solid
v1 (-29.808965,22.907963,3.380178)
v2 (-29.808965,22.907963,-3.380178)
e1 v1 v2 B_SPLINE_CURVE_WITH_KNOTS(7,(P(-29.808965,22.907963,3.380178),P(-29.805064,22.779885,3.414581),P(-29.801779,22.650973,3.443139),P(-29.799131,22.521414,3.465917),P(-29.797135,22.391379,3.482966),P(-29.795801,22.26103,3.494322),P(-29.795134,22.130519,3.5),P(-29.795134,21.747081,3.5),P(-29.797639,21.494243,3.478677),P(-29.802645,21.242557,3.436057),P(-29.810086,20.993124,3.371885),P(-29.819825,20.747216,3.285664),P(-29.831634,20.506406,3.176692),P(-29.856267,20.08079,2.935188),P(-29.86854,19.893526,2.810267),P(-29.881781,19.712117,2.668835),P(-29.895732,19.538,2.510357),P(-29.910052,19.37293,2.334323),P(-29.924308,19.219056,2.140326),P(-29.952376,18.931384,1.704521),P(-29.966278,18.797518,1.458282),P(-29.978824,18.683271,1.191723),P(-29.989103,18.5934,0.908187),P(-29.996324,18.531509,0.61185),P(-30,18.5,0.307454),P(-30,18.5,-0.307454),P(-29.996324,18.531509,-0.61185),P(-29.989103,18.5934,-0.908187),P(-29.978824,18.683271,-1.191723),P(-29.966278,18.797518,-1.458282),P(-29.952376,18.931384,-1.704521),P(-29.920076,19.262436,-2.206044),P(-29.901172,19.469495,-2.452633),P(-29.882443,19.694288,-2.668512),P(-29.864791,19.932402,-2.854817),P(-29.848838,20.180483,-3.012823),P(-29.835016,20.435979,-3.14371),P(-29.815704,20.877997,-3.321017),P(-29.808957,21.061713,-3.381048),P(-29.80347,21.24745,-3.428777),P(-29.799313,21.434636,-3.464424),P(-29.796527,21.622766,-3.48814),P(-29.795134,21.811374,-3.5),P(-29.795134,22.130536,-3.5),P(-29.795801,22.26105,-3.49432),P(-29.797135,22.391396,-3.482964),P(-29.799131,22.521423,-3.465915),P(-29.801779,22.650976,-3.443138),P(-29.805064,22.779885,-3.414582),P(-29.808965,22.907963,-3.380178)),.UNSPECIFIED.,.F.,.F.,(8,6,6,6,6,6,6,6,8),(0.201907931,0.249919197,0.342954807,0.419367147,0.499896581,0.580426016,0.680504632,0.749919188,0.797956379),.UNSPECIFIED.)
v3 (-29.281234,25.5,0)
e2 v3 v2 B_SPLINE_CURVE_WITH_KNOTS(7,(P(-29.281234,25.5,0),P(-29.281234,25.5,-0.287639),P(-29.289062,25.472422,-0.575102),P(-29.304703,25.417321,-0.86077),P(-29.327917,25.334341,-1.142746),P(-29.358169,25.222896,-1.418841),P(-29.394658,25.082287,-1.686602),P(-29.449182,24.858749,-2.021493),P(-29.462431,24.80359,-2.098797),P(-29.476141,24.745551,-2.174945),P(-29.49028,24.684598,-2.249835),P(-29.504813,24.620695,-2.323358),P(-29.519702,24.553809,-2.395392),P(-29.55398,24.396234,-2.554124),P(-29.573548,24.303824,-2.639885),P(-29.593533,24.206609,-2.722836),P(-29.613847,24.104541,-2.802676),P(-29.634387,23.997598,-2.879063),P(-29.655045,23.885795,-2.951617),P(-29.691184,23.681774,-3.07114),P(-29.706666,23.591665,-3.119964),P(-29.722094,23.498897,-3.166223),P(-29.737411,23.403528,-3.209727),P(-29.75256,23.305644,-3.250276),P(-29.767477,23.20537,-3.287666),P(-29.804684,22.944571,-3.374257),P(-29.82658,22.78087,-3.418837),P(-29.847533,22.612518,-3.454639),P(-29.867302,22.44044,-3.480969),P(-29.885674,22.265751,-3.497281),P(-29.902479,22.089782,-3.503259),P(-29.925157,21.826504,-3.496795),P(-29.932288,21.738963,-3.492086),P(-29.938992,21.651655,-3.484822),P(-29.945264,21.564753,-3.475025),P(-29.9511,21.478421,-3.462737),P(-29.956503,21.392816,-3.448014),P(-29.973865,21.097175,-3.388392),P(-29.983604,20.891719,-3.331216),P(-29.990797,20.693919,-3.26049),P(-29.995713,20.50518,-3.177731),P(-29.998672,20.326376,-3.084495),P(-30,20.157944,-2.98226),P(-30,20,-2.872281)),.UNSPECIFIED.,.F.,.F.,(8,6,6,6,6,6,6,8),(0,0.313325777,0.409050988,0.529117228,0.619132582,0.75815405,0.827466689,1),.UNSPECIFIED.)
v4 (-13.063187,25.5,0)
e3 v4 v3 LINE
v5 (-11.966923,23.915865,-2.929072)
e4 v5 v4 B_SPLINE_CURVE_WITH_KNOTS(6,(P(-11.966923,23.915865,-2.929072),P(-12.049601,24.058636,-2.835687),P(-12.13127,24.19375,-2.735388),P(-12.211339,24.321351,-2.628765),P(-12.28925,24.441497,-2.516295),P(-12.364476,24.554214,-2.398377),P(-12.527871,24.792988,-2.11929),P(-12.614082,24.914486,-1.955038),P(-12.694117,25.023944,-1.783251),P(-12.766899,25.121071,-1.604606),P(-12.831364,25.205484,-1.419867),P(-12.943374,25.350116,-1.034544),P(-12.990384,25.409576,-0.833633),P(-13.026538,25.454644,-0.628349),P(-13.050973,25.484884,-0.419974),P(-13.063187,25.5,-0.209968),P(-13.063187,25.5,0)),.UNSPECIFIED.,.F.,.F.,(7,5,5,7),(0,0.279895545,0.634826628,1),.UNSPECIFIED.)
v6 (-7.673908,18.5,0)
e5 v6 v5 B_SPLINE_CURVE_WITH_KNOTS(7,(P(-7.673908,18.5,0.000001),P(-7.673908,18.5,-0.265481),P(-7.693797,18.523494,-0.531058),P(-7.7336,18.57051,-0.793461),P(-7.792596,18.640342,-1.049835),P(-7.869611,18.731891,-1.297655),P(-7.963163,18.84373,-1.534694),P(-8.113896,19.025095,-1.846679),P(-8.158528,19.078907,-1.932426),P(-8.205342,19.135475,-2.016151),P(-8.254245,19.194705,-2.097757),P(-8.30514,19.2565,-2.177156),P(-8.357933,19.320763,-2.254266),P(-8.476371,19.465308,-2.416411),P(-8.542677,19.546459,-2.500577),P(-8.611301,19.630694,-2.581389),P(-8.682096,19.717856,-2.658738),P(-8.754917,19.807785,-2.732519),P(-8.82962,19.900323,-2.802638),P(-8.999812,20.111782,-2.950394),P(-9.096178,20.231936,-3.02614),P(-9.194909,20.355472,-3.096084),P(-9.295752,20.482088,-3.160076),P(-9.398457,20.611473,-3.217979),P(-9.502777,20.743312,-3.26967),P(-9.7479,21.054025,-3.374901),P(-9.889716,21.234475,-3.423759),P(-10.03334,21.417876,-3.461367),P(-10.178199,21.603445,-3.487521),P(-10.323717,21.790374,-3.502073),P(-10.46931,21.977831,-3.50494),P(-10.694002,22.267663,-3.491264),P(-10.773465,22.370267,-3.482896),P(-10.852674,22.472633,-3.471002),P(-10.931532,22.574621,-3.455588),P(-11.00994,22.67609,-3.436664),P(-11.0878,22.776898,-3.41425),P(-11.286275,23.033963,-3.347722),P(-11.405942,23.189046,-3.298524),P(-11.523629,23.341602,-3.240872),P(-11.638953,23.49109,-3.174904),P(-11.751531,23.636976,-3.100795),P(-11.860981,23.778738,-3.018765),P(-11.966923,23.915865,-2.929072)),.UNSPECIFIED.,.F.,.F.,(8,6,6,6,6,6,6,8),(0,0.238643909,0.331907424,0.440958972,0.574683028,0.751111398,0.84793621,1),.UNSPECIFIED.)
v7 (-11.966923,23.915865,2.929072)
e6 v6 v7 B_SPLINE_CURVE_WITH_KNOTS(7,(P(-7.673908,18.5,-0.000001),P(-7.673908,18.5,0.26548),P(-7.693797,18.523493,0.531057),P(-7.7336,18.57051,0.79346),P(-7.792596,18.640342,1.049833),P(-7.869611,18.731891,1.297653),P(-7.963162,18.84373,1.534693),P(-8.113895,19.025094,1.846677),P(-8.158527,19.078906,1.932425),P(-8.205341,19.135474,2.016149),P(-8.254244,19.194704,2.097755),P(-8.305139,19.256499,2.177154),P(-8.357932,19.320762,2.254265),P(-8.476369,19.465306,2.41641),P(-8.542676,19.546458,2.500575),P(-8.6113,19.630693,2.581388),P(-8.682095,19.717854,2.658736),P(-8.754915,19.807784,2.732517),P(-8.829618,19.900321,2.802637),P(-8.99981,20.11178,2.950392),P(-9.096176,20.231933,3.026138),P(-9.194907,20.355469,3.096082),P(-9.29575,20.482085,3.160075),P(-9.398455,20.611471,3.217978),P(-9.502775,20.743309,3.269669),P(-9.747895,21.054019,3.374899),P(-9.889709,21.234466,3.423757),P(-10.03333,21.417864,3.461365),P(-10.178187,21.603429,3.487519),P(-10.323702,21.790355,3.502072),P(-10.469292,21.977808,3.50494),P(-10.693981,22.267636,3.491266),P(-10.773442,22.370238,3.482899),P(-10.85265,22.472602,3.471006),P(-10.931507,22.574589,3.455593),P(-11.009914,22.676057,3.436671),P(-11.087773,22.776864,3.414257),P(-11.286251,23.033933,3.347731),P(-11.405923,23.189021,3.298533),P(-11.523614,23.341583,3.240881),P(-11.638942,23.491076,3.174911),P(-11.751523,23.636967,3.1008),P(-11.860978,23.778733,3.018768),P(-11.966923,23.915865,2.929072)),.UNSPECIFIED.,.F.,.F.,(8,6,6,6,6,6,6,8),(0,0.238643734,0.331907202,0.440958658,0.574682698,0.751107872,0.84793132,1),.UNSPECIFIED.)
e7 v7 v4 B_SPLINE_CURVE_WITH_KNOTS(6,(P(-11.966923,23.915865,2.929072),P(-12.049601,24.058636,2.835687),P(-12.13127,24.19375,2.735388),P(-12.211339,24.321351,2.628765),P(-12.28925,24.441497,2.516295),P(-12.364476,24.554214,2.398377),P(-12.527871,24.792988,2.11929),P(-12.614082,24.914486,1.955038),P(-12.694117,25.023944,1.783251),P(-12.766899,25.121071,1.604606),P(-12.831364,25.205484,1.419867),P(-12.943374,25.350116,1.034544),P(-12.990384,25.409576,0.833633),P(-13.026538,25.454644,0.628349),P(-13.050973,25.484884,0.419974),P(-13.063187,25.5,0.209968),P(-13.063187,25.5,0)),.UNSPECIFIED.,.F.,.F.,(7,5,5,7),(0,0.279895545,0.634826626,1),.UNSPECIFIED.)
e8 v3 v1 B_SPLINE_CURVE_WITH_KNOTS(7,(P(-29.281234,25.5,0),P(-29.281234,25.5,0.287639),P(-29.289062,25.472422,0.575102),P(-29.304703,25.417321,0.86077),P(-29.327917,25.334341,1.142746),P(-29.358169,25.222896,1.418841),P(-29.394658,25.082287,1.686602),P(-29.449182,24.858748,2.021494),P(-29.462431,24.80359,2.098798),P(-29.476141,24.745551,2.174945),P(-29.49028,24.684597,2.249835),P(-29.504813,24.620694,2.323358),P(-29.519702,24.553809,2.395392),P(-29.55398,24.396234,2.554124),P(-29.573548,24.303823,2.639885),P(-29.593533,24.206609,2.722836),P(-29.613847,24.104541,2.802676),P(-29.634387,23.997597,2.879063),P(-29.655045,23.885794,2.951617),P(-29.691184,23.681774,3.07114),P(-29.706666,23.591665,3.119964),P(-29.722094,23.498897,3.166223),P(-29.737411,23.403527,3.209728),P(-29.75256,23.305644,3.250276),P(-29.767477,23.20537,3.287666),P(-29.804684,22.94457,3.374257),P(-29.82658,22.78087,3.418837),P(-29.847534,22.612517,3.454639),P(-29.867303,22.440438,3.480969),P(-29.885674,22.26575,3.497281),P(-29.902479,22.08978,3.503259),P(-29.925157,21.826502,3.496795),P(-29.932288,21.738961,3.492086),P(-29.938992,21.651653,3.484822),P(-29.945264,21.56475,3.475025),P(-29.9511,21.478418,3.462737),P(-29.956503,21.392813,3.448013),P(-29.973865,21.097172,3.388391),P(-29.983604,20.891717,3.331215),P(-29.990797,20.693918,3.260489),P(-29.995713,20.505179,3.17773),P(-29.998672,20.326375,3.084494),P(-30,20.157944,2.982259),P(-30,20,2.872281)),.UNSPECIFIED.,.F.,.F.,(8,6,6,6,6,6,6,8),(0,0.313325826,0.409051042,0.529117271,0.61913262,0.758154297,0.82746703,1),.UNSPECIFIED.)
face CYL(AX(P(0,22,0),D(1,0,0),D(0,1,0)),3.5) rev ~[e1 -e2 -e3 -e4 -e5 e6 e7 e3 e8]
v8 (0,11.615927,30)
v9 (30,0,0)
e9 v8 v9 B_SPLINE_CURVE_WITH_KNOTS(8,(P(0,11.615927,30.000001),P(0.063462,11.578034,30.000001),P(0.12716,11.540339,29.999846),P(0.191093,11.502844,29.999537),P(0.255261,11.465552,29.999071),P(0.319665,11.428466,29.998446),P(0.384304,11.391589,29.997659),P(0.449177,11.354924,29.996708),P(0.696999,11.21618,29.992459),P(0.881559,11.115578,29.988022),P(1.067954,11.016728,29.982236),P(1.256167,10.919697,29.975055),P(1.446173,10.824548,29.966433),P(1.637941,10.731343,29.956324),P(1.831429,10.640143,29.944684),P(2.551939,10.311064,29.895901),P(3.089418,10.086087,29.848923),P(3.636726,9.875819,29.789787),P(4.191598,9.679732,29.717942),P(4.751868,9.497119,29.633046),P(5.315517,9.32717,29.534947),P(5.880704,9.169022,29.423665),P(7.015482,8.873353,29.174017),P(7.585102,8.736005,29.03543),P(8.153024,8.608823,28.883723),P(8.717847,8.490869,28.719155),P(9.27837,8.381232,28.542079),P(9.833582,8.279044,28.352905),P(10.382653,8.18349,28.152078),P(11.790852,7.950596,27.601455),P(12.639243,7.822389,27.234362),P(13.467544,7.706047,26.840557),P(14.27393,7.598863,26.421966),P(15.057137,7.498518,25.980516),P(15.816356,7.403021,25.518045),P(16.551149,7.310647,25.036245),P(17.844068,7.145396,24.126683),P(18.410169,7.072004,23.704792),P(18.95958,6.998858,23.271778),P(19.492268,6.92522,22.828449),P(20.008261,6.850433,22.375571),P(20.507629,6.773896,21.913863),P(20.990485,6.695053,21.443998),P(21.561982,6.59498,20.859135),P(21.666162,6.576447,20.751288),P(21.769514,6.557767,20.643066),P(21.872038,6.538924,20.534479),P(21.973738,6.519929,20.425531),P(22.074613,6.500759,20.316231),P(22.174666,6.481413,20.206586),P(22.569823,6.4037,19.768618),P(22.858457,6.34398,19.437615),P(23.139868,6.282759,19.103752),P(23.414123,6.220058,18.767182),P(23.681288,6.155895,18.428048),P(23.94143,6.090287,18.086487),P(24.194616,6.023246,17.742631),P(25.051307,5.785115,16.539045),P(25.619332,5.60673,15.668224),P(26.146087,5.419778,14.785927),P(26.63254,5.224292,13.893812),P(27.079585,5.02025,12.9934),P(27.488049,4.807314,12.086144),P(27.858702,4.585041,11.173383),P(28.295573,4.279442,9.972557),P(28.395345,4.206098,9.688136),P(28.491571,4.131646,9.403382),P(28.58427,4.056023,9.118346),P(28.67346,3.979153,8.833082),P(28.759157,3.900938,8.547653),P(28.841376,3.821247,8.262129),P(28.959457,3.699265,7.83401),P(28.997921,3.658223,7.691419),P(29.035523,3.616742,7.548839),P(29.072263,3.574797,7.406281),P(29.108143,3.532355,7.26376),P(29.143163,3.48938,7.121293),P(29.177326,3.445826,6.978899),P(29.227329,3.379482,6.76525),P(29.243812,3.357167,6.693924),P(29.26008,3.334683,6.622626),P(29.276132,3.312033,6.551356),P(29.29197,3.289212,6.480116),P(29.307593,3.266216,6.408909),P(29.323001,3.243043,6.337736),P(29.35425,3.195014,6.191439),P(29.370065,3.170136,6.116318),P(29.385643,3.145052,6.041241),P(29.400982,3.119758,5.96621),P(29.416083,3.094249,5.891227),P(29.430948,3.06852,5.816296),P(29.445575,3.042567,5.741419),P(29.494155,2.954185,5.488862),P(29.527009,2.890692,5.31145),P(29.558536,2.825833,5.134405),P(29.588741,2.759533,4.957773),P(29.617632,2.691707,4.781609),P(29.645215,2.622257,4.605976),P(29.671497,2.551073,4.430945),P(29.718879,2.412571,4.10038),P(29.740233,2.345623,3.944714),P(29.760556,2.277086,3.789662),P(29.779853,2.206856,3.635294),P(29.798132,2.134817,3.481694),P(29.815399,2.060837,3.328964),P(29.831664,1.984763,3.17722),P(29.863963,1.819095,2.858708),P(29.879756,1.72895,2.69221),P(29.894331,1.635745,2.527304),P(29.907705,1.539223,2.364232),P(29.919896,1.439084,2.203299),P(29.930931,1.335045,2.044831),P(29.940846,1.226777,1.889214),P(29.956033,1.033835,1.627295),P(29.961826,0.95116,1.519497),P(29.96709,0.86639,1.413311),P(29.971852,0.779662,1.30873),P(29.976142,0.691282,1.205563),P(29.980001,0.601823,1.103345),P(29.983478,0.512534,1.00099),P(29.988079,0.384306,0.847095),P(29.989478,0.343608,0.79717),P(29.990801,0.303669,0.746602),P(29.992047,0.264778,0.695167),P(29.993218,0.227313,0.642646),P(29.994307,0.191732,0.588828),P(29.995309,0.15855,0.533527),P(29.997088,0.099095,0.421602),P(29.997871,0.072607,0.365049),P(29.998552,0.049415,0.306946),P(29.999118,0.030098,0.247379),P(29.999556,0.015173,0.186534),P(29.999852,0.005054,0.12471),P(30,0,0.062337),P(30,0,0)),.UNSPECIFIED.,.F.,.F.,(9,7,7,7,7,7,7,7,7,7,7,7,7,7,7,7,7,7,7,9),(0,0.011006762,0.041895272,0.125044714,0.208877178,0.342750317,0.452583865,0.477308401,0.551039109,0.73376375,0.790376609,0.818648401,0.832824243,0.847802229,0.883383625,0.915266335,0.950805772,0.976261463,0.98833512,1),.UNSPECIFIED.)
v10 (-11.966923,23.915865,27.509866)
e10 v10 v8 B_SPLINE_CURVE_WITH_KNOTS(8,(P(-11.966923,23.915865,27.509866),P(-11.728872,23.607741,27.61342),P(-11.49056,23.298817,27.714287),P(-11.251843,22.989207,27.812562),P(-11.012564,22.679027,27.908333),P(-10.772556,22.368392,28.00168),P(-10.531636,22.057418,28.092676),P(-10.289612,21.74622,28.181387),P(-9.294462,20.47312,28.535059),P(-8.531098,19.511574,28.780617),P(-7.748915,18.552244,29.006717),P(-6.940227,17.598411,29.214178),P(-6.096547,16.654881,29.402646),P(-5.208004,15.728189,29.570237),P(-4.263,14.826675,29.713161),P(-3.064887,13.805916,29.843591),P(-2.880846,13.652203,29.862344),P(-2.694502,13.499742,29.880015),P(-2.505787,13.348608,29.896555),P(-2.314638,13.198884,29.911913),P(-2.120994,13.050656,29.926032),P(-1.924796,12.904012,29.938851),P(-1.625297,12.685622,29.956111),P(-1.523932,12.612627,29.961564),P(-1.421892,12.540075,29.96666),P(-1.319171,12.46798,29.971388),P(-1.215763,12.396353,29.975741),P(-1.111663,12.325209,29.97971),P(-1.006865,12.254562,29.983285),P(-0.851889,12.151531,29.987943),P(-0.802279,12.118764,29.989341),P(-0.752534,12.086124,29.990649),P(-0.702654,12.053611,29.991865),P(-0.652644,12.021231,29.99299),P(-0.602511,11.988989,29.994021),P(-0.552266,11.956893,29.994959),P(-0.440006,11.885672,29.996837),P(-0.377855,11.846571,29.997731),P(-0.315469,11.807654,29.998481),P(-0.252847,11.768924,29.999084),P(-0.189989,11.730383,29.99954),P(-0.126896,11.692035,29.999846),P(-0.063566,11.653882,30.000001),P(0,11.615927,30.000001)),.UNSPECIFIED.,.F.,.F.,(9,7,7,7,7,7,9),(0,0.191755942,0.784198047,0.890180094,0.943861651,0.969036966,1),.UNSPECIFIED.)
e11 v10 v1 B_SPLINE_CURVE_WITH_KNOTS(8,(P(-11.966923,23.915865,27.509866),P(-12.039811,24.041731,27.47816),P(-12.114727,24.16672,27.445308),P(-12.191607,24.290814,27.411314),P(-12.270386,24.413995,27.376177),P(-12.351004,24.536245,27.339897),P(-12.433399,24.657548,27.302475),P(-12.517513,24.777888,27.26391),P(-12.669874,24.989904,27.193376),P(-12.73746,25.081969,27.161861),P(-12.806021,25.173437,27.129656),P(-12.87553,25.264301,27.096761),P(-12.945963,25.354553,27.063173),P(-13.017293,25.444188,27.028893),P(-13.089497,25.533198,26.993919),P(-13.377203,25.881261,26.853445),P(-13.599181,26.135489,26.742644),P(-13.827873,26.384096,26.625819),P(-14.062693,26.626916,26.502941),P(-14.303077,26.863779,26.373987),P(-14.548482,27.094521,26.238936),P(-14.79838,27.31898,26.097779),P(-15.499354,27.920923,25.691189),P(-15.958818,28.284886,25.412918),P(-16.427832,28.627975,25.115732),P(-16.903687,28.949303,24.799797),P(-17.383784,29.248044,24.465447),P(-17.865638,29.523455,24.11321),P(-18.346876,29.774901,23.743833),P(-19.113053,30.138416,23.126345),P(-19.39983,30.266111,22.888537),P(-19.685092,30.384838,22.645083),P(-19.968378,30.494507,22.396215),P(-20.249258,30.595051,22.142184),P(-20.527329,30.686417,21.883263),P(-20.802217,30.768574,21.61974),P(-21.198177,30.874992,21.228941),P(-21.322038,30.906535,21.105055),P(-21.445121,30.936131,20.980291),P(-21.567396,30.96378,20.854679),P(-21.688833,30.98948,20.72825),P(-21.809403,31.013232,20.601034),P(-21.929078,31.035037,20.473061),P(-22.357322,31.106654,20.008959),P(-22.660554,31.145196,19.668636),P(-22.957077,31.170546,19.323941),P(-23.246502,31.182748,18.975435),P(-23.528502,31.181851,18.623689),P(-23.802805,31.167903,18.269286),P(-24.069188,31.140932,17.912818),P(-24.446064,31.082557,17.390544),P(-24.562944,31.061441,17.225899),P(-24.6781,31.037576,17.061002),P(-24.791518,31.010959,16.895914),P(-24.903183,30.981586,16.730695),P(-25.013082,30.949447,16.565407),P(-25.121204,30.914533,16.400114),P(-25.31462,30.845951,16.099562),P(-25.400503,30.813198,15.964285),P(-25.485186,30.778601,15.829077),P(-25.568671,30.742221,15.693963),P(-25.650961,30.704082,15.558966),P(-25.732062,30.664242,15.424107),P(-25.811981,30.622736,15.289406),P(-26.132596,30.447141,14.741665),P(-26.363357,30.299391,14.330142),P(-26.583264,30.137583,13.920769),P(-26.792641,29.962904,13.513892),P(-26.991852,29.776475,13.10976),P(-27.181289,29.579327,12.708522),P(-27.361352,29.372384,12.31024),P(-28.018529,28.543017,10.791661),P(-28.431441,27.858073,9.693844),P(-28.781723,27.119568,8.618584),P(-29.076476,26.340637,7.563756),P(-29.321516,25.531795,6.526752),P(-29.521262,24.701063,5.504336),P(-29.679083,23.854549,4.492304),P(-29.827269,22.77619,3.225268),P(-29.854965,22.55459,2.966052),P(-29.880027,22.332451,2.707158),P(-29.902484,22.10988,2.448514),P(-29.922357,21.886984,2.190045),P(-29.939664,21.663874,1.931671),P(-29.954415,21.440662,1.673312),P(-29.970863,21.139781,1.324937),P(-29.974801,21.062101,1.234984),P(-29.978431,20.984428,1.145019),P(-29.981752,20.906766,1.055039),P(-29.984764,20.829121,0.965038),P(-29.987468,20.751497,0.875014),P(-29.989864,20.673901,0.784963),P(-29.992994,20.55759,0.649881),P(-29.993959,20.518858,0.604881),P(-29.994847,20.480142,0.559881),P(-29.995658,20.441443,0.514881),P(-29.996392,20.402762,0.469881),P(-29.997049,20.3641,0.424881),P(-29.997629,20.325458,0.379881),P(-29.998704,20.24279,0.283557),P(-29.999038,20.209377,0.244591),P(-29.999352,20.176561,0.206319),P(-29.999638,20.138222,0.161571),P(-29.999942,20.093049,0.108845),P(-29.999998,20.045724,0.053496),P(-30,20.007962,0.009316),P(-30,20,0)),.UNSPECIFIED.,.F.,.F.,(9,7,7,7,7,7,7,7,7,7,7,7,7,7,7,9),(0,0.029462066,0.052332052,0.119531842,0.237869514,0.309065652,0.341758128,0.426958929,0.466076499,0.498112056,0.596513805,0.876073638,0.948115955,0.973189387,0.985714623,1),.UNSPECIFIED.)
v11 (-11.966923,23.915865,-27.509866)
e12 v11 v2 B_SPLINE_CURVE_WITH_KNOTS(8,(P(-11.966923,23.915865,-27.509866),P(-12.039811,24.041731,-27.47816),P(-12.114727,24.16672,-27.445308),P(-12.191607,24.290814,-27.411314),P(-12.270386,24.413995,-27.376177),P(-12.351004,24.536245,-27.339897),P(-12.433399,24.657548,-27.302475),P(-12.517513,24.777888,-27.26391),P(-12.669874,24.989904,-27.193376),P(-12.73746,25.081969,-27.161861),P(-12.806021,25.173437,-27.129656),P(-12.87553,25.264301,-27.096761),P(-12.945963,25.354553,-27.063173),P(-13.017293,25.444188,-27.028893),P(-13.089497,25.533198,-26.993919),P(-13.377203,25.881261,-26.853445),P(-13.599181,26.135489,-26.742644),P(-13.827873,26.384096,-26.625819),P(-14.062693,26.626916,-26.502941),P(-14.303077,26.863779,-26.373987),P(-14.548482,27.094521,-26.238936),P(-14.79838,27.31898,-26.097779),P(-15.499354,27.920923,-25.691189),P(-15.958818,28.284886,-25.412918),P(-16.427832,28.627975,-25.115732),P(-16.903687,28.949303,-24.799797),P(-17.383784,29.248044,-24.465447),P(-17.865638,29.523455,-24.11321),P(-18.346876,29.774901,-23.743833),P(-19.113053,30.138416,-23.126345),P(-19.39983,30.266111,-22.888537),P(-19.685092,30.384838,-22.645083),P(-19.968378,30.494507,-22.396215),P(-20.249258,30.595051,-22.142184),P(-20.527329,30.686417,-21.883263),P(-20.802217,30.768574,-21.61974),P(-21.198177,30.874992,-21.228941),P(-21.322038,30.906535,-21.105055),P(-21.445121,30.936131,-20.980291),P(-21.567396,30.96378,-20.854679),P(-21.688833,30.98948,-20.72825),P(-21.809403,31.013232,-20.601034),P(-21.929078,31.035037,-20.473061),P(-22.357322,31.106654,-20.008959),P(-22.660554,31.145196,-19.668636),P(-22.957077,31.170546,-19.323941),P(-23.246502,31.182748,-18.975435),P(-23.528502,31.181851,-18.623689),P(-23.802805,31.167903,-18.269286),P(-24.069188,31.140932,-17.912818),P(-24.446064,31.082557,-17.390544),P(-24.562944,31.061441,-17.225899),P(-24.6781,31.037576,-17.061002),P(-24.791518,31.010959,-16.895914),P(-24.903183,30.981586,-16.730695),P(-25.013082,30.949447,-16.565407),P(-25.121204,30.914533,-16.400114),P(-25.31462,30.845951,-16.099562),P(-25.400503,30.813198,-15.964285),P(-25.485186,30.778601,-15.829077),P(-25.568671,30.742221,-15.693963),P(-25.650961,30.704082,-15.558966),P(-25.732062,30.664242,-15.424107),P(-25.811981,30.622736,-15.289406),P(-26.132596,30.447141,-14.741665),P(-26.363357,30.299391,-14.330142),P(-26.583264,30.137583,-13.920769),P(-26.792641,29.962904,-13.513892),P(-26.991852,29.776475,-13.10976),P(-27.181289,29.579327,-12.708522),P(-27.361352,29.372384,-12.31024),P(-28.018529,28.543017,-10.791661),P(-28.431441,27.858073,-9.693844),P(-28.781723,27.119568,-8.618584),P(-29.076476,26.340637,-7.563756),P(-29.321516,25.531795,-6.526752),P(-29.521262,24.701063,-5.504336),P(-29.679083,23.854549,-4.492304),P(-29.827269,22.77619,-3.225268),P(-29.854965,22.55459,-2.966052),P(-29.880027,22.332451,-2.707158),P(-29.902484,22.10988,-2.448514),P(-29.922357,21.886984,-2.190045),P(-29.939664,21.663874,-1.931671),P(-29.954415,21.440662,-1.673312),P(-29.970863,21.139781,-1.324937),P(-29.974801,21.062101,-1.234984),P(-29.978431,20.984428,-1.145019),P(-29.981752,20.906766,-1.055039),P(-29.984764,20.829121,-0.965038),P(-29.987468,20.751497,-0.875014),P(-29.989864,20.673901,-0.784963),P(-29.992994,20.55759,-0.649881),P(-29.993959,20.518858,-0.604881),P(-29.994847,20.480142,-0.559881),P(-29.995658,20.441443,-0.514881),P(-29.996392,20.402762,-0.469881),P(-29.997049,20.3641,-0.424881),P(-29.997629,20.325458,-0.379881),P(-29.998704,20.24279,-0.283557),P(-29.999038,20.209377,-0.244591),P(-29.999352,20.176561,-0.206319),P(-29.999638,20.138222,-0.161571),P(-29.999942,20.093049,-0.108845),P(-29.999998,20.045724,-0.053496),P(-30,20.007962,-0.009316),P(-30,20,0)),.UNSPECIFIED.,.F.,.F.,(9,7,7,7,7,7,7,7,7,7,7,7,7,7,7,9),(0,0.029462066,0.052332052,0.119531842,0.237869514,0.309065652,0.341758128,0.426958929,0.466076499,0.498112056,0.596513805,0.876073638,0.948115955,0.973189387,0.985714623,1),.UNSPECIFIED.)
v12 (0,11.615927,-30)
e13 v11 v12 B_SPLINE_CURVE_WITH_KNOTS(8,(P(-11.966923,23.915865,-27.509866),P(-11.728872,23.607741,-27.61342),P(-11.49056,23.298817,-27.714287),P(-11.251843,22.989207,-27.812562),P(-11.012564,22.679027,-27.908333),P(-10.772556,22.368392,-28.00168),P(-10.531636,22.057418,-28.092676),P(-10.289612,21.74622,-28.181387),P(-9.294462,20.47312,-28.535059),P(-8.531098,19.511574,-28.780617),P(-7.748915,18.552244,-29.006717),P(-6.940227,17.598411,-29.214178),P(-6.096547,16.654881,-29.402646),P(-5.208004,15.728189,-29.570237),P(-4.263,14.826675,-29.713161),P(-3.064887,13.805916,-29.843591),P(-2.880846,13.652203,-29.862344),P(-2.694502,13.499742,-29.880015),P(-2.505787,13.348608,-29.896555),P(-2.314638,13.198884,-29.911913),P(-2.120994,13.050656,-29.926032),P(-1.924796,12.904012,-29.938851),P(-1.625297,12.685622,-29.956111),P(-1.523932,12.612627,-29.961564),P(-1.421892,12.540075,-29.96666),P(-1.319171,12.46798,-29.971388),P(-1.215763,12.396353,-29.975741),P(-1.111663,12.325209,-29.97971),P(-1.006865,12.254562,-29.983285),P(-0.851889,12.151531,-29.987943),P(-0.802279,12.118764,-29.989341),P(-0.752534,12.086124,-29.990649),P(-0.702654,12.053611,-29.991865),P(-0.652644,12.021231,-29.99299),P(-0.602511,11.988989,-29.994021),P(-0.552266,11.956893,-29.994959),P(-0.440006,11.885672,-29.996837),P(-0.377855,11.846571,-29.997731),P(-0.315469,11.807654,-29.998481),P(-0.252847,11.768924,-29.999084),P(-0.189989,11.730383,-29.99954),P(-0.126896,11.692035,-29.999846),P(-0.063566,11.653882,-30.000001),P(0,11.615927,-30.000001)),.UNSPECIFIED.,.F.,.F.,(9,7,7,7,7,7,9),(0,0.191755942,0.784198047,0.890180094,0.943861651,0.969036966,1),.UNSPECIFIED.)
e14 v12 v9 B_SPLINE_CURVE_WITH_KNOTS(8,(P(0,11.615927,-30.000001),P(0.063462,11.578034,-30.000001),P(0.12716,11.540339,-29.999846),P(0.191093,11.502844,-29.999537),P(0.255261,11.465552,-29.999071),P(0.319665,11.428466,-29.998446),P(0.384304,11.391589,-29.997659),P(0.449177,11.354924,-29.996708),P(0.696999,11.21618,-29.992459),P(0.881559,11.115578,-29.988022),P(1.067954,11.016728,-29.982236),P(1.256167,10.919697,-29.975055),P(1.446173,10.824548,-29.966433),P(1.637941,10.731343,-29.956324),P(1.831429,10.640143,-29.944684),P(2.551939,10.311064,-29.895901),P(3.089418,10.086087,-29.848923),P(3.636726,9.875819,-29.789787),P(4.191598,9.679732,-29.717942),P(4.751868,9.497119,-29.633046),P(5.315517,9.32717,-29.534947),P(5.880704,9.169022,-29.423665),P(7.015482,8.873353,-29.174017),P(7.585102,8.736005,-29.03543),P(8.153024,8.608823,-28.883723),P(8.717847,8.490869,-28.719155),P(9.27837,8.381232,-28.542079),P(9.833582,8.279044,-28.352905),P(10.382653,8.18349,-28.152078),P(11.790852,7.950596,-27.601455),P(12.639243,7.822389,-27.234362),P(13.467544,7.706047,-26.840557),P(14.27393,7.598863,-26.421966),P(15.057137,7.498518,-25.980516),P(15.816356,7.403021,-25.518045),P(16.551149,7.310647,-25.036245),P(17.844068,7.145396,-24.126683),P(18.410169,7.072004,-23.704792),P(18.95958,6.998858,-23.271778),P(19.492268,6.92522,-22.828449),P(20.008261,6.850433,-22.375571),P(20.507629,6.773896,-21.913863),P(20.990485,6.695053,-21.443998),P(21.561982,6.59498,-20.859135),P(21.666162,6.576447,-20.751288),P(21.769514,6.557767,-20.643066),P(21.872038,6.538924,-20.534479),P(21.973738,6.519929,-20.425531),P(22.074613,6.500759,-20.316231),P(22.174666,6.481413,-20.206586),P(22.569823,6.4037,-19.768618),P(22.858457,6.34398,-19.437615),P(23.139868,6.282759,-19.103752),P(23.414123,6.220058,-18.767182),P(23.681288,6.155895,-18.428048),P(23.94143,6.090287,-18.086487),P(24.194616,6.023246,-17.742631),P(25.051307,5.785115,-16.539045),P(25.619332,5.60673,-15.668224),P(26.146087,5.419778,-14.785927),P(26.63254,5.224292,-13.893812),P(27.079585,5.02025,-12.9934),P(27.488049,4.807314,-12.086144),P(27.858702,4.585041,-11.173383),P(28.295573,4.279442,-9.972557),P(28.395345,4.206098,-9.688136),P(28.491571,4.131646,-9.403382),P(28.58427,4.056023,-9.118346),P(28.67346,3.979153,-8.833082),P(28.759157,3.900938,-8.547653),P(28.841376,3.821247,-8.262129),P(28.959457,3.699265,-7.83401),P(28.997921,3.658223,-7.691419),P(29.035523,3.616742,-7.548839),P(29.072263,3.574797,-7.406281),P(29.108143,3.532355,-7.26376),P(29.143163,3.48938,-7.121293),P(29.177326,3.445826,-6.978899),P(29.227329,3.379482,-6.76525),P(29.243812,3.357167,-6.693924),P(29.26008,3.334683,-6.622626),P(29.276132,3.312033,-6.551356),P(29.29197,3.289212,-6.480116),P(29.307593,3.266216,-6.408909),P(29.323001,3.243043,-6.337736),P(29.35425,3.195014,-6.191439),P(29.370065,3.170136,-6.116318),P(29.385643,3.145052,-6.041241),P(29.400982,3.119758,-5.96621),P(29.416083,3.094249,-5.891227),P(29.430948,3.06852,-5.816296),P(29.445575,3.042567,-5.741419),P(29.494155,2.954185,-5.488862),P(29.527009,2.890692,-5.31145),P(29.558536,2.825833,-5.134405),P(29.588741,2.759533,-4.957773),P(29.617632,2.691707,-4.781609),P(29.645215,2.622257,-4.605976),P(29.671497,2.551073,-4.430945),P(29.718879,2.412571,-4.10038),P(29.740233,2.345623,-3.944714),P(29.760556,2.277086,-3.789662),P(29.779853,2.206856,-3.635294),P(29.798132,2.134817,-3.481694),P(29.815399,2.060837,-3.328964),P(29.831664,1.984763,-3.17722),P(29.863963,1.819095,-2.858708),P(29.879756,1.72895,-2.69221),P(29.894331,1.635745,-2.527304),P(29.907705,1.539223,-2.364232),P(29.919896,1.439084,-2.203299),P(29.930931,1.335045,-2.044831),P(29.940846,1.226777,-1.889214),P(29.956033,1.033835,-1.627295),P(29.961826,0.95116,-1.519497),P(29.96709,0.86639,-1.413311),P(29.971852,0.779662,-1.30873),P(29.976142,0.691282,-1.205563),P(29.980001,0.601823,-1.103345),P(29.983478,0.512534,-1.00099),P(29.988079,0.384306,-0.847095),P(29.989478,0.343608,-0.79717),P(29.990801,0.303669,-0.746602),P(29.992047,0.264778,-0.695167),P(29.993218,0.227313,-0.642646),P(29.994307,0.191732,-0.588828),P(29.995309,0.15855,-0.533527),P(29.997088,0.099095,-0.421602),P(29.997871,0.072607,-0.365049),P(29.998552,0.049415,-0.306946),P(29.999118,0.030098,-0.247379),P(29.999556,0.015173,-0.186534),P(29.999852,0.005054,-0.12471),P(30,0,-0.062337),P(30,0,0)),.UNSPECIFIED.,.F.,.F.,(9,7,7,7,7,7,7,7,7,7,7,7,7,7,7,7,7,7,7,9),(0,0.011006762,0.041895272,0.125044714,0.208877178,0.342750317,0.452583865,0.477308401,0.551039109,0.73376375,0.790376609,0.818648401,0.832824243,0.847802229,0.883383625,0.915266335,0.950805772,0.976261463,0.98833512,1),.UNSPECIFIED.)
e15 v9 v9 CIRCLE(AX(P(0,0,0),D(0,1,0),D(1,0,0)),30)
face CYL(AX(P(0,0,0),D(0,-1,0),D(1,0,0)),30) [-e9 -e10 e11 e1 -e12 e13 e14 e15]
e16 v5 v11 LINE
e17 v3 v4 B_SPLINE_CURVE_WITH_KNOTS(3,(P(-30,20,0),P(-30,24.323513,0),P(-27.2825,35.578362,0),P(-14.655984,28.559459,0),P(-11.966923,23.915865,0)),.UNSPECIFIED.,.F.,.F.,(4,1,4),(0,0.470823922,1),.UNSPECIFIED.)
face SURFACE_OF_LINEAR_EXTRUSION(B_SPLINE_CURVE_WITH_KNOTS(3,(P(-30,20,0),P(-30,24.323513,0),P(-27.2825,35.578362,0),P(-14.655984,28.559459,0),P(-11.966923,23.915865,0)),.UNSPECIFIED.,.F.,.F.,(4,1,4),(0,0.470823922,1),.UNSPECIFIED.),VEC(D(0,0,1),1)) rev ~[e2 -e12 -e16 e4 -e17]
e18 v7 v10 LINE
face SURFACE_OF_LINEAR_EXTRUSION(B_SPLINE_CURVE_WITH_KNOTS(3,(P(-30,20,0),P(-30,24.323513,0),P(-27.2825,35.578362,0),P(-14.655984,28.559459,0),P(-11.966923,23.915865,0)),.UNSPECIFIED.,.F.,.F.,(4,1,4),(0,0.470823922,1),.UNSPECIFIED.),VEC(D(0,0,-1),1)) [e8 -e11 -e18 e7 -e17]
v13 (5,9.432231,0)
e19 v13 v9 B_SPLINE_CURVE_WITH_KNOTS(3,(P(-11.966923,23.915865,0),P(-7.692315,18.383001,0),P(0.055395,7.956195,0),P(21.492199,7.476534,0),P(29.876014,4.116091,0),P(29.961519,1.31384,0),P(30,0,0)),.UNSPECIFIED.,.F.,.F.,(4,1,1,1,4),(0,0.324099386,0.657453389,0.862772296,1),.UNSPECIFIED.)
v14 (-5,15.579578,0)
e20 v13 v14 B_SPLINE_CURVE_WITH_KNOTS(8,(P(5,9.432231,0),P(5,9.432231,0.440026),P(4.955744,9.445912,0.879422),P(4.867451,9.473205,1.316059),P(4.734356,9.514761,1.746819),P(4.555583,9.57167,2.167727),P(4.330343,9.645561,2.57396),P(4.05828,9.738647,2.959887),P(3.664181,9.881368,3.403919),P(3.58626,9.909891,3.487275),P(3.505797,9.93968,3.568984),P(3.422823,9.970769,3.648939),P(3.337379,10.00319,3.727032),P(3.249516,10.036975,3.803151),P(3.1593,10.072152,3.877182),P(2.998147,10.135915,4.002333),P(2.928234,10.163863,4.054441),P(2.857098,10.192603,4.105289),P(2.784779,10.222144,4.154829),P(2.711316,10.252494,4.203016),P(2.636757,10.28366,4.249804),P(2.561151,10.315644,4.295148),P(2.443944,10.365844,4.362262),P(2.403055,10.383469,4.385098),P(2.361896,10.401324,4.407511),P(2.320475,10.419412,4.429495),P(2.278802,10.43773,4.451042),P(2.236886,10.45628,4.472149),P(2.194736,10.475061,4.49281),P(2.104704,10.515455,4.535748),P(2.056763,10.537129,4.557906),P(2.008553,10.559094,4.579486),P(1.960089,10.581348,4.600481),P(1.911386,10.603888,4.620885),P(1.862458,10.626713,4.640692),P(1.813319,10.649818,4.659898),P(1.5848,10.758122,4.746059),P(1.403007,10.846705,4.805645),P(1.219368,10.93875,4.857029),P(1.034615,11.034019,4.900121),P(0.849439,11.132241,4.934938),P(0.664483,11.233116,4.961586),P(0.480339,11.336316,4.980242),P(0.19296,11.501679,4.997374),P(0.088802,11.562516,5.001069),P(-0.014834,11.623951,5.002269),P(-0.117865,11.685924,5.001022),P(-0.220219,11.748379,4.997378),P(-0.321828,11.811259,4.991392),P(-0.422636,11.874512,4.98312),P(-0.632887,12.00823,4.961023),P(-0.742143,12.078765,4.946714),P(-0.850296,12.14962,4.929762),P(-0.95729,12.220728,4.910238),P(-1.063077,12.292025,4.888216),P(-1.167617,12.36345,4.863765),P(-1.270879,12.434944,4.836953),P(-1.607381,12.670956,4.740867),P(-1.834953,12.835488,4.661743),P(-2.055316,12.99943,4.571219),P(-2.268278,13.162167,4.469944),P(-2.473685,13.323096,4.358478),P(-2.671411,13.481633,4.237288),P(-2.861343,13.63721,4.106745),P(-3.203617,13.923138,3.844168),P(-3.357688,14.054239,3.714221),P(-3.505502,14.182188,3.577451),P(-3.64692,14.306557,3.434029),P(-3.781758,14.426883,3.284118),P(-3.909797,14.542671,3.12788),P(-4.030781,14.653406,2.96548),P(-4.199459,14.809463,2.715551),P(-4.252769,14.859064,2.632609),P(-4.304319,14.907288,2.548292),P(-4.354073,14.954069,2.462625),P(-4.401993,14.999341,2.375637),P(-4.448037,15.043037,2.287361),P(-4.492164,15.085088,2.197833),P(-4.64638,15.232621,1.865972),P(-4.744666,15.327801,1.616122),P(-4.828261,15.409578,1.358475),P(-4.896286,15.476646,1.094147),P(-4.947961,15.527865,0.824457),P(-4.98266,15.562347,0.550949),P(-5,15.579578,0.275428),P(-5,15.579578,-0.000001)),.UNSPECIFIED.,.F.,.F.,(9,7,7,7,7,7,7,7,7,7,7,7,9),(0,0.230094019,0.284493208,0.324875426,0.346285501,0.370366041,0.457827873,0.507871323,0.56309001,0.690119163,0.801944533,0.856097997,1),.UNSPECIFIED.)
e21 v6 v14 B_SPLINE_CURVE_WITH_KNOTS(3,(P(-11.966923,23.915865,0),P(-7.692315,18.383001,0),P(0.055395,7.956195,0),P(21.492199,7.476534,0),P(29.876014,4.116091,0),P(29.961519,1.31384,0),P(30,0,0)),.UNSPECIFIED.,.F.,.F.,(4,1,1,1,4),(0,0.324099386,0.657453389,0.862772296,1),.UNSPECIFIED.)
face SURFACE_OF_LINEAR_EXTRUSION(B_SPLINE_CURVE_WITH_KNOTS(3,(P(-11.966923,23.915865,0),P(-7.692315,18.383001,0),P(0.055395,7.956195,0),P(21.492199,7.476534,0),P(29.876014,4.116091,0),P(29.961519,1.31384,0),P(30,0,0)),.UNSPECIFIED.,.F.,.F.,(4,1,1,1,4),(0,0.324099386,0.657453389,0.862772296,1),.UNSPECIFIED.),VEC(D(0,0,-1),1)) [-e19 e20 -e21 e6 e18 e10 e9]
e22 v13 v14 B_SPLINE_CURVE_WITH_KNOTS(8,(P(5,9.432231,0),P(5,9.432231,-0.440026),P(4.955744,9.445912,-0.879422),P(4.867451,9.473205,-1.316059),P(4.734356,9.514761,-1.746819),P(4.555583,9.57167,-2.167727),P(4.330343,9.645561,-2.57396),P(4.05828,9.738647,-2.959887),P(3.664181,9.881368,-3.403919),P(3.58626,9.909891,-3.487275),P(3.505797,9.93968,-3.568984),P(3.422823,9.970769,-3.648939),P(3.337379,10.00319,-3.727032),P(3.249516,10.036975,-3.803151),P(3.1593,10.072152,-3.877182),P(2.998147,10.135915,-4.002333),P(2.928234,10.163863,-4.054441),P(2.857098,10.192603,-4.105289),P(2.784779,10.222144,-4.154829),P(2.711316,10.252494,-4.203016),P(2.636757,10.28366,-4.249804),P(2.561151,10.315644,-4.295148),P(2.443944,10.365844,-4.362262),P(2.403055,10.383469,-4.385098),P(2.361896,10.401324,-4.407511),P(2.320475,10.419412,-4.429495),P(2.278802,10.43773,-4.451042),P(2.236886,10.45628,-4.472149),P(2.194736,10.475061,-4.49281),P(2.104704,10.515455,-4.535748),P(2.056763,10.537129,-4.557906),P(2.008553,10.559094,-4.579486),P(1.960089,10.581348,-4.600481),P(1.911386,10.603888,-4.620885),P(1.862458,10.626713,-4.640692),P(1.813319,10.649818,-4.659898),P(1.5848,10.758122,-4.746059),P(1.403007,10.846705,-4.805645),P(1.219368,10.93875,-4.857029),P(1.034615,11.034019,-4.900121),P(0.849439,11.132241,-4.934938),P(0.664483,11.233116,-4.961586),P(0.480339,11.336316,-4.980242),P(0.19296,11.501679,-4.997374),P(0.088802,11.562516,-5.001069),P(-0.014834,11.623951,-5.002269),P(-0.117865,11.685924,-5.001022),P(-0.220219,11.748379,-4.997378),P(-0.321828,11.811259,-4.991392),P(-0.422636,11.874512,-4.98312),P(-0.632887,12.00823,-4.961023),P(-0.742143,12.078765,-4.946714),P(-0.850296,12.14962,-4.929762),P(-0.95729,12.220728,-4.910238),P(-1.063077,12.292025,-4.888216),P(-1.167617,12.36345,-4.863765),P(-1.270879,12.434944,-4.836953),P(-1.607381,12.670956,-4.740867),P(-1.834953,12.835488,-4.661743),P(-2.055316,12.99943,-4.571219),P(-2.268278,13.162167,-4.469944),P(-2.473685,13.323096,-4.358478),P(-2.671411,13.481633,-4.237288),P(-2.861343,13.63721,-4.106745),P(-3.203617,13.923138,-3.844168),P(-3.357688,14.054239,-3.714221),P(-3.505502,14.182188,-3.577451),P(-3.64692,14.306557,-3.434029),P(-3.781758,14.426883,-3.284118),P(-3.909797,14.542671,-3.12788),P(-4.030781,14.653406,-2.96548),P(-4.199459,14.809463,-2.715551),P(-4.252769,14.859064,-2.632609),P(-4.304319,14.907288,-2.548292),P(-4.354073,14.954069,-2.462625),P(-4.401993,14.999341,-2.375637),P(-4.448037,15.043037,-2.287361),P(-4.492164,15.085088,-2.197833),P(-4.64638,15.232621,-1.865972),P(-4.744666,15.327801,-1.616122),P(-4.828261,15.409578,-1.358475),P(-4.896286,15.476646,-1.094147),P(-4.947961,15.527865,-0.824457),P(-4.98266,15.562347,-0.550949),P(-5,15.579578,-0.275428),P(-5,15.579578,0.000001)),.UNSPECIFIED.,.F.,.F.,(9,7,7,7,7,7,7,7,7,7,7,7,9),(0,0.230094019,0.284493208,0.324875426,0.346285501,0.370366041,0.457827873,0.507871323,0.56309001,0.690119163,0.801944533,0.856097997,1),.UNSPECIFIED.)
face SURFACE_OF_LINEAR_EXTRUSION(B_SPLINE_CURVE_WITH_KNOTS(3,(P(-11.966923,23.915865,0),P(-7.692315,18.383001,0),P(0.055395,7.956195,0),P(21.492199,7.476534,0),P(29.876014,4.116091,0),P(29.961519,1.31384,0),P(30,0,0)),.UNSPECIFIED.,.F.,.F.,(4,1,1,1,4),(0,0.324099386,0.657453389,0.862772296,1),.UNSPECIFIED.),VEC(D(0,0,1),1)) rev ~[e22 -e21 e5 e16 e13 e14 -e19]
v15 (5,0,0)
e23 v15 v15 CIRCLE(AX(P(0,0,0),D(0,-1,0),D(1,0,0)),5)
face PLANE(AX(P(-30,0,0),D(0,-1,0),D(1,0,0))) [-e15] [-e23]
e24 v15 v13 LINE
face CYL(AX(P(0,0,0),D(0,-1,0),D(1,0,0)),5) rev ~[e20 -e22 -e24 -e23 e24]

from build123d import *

# Parameters (mm, degrees)
F2_DEPTH = 30
F0_R     = 30
F3_DEPTH = 42.6
F4_R     = 5
F5_DEPTH = 25
F6_R     = 3.5
F7_DEPTH = 30


with BuildPart() as f2:
    # F1 (on Top) → F2 (new body, symmetric)
    with BuildSketch(Plane.XY):
        with BuildLine():
            Line((-30, 20), (-30, 0))
            Line((-30, 0), (30, 0))
            add(Edge.make_bspline(
                [(-11.9669232517, 23.9158645272), (-7.6923151604, 18.383000577), (0.0553950067, 7.9561946526), (21.492198658, 7.4765338225), (29.8760138515, 4.1160909055), (29.9615187291, 1.3138395604), (30, 0)],
                knots=[0, 0, 0, 0, 0.3240993857, 0.657453389, 0.8627722962, 1, 1, 1, 1], degree=3))
            add(Edge.make_bspline(
                [(-30, 20), (-30, 24.3235133941), (-27.2825003911, 35.5783617991), (-14.6559835243, 28.5594591932), (-11.9669232517, 23.9158645272)],
                knots=[0, 0, 0, 0, 0.4708239219, 1, 1, 1, 1], degree=3))
        make_face()
    extrude(amount=F2_DEPTH, both=True)

    # F0 (on Front) → F3 (intersect)
    with BuildSketch(Plane.XZ):
        Circle(F0_R)
    extrude(amount=-F3_DEPTH, mode=Mode.INTERSECT)

    # F4 (on Front) → F5 (cut)
    with BuildSketch(Plane.XZ):
        Circle(F4_R)
    extrude(amount=-F5_DEPTH, mode=Mode.SUBTRACT)

    # F6 (on Right) → F7 (cut)
    with BuildSketch(Plane.YZ):
        with Locations((22, 0)):
            Circle(F6_R)
    extrude(amount=-F7_DEPTH, mode=Mode.SUBTRACT)


solid = f2.part
